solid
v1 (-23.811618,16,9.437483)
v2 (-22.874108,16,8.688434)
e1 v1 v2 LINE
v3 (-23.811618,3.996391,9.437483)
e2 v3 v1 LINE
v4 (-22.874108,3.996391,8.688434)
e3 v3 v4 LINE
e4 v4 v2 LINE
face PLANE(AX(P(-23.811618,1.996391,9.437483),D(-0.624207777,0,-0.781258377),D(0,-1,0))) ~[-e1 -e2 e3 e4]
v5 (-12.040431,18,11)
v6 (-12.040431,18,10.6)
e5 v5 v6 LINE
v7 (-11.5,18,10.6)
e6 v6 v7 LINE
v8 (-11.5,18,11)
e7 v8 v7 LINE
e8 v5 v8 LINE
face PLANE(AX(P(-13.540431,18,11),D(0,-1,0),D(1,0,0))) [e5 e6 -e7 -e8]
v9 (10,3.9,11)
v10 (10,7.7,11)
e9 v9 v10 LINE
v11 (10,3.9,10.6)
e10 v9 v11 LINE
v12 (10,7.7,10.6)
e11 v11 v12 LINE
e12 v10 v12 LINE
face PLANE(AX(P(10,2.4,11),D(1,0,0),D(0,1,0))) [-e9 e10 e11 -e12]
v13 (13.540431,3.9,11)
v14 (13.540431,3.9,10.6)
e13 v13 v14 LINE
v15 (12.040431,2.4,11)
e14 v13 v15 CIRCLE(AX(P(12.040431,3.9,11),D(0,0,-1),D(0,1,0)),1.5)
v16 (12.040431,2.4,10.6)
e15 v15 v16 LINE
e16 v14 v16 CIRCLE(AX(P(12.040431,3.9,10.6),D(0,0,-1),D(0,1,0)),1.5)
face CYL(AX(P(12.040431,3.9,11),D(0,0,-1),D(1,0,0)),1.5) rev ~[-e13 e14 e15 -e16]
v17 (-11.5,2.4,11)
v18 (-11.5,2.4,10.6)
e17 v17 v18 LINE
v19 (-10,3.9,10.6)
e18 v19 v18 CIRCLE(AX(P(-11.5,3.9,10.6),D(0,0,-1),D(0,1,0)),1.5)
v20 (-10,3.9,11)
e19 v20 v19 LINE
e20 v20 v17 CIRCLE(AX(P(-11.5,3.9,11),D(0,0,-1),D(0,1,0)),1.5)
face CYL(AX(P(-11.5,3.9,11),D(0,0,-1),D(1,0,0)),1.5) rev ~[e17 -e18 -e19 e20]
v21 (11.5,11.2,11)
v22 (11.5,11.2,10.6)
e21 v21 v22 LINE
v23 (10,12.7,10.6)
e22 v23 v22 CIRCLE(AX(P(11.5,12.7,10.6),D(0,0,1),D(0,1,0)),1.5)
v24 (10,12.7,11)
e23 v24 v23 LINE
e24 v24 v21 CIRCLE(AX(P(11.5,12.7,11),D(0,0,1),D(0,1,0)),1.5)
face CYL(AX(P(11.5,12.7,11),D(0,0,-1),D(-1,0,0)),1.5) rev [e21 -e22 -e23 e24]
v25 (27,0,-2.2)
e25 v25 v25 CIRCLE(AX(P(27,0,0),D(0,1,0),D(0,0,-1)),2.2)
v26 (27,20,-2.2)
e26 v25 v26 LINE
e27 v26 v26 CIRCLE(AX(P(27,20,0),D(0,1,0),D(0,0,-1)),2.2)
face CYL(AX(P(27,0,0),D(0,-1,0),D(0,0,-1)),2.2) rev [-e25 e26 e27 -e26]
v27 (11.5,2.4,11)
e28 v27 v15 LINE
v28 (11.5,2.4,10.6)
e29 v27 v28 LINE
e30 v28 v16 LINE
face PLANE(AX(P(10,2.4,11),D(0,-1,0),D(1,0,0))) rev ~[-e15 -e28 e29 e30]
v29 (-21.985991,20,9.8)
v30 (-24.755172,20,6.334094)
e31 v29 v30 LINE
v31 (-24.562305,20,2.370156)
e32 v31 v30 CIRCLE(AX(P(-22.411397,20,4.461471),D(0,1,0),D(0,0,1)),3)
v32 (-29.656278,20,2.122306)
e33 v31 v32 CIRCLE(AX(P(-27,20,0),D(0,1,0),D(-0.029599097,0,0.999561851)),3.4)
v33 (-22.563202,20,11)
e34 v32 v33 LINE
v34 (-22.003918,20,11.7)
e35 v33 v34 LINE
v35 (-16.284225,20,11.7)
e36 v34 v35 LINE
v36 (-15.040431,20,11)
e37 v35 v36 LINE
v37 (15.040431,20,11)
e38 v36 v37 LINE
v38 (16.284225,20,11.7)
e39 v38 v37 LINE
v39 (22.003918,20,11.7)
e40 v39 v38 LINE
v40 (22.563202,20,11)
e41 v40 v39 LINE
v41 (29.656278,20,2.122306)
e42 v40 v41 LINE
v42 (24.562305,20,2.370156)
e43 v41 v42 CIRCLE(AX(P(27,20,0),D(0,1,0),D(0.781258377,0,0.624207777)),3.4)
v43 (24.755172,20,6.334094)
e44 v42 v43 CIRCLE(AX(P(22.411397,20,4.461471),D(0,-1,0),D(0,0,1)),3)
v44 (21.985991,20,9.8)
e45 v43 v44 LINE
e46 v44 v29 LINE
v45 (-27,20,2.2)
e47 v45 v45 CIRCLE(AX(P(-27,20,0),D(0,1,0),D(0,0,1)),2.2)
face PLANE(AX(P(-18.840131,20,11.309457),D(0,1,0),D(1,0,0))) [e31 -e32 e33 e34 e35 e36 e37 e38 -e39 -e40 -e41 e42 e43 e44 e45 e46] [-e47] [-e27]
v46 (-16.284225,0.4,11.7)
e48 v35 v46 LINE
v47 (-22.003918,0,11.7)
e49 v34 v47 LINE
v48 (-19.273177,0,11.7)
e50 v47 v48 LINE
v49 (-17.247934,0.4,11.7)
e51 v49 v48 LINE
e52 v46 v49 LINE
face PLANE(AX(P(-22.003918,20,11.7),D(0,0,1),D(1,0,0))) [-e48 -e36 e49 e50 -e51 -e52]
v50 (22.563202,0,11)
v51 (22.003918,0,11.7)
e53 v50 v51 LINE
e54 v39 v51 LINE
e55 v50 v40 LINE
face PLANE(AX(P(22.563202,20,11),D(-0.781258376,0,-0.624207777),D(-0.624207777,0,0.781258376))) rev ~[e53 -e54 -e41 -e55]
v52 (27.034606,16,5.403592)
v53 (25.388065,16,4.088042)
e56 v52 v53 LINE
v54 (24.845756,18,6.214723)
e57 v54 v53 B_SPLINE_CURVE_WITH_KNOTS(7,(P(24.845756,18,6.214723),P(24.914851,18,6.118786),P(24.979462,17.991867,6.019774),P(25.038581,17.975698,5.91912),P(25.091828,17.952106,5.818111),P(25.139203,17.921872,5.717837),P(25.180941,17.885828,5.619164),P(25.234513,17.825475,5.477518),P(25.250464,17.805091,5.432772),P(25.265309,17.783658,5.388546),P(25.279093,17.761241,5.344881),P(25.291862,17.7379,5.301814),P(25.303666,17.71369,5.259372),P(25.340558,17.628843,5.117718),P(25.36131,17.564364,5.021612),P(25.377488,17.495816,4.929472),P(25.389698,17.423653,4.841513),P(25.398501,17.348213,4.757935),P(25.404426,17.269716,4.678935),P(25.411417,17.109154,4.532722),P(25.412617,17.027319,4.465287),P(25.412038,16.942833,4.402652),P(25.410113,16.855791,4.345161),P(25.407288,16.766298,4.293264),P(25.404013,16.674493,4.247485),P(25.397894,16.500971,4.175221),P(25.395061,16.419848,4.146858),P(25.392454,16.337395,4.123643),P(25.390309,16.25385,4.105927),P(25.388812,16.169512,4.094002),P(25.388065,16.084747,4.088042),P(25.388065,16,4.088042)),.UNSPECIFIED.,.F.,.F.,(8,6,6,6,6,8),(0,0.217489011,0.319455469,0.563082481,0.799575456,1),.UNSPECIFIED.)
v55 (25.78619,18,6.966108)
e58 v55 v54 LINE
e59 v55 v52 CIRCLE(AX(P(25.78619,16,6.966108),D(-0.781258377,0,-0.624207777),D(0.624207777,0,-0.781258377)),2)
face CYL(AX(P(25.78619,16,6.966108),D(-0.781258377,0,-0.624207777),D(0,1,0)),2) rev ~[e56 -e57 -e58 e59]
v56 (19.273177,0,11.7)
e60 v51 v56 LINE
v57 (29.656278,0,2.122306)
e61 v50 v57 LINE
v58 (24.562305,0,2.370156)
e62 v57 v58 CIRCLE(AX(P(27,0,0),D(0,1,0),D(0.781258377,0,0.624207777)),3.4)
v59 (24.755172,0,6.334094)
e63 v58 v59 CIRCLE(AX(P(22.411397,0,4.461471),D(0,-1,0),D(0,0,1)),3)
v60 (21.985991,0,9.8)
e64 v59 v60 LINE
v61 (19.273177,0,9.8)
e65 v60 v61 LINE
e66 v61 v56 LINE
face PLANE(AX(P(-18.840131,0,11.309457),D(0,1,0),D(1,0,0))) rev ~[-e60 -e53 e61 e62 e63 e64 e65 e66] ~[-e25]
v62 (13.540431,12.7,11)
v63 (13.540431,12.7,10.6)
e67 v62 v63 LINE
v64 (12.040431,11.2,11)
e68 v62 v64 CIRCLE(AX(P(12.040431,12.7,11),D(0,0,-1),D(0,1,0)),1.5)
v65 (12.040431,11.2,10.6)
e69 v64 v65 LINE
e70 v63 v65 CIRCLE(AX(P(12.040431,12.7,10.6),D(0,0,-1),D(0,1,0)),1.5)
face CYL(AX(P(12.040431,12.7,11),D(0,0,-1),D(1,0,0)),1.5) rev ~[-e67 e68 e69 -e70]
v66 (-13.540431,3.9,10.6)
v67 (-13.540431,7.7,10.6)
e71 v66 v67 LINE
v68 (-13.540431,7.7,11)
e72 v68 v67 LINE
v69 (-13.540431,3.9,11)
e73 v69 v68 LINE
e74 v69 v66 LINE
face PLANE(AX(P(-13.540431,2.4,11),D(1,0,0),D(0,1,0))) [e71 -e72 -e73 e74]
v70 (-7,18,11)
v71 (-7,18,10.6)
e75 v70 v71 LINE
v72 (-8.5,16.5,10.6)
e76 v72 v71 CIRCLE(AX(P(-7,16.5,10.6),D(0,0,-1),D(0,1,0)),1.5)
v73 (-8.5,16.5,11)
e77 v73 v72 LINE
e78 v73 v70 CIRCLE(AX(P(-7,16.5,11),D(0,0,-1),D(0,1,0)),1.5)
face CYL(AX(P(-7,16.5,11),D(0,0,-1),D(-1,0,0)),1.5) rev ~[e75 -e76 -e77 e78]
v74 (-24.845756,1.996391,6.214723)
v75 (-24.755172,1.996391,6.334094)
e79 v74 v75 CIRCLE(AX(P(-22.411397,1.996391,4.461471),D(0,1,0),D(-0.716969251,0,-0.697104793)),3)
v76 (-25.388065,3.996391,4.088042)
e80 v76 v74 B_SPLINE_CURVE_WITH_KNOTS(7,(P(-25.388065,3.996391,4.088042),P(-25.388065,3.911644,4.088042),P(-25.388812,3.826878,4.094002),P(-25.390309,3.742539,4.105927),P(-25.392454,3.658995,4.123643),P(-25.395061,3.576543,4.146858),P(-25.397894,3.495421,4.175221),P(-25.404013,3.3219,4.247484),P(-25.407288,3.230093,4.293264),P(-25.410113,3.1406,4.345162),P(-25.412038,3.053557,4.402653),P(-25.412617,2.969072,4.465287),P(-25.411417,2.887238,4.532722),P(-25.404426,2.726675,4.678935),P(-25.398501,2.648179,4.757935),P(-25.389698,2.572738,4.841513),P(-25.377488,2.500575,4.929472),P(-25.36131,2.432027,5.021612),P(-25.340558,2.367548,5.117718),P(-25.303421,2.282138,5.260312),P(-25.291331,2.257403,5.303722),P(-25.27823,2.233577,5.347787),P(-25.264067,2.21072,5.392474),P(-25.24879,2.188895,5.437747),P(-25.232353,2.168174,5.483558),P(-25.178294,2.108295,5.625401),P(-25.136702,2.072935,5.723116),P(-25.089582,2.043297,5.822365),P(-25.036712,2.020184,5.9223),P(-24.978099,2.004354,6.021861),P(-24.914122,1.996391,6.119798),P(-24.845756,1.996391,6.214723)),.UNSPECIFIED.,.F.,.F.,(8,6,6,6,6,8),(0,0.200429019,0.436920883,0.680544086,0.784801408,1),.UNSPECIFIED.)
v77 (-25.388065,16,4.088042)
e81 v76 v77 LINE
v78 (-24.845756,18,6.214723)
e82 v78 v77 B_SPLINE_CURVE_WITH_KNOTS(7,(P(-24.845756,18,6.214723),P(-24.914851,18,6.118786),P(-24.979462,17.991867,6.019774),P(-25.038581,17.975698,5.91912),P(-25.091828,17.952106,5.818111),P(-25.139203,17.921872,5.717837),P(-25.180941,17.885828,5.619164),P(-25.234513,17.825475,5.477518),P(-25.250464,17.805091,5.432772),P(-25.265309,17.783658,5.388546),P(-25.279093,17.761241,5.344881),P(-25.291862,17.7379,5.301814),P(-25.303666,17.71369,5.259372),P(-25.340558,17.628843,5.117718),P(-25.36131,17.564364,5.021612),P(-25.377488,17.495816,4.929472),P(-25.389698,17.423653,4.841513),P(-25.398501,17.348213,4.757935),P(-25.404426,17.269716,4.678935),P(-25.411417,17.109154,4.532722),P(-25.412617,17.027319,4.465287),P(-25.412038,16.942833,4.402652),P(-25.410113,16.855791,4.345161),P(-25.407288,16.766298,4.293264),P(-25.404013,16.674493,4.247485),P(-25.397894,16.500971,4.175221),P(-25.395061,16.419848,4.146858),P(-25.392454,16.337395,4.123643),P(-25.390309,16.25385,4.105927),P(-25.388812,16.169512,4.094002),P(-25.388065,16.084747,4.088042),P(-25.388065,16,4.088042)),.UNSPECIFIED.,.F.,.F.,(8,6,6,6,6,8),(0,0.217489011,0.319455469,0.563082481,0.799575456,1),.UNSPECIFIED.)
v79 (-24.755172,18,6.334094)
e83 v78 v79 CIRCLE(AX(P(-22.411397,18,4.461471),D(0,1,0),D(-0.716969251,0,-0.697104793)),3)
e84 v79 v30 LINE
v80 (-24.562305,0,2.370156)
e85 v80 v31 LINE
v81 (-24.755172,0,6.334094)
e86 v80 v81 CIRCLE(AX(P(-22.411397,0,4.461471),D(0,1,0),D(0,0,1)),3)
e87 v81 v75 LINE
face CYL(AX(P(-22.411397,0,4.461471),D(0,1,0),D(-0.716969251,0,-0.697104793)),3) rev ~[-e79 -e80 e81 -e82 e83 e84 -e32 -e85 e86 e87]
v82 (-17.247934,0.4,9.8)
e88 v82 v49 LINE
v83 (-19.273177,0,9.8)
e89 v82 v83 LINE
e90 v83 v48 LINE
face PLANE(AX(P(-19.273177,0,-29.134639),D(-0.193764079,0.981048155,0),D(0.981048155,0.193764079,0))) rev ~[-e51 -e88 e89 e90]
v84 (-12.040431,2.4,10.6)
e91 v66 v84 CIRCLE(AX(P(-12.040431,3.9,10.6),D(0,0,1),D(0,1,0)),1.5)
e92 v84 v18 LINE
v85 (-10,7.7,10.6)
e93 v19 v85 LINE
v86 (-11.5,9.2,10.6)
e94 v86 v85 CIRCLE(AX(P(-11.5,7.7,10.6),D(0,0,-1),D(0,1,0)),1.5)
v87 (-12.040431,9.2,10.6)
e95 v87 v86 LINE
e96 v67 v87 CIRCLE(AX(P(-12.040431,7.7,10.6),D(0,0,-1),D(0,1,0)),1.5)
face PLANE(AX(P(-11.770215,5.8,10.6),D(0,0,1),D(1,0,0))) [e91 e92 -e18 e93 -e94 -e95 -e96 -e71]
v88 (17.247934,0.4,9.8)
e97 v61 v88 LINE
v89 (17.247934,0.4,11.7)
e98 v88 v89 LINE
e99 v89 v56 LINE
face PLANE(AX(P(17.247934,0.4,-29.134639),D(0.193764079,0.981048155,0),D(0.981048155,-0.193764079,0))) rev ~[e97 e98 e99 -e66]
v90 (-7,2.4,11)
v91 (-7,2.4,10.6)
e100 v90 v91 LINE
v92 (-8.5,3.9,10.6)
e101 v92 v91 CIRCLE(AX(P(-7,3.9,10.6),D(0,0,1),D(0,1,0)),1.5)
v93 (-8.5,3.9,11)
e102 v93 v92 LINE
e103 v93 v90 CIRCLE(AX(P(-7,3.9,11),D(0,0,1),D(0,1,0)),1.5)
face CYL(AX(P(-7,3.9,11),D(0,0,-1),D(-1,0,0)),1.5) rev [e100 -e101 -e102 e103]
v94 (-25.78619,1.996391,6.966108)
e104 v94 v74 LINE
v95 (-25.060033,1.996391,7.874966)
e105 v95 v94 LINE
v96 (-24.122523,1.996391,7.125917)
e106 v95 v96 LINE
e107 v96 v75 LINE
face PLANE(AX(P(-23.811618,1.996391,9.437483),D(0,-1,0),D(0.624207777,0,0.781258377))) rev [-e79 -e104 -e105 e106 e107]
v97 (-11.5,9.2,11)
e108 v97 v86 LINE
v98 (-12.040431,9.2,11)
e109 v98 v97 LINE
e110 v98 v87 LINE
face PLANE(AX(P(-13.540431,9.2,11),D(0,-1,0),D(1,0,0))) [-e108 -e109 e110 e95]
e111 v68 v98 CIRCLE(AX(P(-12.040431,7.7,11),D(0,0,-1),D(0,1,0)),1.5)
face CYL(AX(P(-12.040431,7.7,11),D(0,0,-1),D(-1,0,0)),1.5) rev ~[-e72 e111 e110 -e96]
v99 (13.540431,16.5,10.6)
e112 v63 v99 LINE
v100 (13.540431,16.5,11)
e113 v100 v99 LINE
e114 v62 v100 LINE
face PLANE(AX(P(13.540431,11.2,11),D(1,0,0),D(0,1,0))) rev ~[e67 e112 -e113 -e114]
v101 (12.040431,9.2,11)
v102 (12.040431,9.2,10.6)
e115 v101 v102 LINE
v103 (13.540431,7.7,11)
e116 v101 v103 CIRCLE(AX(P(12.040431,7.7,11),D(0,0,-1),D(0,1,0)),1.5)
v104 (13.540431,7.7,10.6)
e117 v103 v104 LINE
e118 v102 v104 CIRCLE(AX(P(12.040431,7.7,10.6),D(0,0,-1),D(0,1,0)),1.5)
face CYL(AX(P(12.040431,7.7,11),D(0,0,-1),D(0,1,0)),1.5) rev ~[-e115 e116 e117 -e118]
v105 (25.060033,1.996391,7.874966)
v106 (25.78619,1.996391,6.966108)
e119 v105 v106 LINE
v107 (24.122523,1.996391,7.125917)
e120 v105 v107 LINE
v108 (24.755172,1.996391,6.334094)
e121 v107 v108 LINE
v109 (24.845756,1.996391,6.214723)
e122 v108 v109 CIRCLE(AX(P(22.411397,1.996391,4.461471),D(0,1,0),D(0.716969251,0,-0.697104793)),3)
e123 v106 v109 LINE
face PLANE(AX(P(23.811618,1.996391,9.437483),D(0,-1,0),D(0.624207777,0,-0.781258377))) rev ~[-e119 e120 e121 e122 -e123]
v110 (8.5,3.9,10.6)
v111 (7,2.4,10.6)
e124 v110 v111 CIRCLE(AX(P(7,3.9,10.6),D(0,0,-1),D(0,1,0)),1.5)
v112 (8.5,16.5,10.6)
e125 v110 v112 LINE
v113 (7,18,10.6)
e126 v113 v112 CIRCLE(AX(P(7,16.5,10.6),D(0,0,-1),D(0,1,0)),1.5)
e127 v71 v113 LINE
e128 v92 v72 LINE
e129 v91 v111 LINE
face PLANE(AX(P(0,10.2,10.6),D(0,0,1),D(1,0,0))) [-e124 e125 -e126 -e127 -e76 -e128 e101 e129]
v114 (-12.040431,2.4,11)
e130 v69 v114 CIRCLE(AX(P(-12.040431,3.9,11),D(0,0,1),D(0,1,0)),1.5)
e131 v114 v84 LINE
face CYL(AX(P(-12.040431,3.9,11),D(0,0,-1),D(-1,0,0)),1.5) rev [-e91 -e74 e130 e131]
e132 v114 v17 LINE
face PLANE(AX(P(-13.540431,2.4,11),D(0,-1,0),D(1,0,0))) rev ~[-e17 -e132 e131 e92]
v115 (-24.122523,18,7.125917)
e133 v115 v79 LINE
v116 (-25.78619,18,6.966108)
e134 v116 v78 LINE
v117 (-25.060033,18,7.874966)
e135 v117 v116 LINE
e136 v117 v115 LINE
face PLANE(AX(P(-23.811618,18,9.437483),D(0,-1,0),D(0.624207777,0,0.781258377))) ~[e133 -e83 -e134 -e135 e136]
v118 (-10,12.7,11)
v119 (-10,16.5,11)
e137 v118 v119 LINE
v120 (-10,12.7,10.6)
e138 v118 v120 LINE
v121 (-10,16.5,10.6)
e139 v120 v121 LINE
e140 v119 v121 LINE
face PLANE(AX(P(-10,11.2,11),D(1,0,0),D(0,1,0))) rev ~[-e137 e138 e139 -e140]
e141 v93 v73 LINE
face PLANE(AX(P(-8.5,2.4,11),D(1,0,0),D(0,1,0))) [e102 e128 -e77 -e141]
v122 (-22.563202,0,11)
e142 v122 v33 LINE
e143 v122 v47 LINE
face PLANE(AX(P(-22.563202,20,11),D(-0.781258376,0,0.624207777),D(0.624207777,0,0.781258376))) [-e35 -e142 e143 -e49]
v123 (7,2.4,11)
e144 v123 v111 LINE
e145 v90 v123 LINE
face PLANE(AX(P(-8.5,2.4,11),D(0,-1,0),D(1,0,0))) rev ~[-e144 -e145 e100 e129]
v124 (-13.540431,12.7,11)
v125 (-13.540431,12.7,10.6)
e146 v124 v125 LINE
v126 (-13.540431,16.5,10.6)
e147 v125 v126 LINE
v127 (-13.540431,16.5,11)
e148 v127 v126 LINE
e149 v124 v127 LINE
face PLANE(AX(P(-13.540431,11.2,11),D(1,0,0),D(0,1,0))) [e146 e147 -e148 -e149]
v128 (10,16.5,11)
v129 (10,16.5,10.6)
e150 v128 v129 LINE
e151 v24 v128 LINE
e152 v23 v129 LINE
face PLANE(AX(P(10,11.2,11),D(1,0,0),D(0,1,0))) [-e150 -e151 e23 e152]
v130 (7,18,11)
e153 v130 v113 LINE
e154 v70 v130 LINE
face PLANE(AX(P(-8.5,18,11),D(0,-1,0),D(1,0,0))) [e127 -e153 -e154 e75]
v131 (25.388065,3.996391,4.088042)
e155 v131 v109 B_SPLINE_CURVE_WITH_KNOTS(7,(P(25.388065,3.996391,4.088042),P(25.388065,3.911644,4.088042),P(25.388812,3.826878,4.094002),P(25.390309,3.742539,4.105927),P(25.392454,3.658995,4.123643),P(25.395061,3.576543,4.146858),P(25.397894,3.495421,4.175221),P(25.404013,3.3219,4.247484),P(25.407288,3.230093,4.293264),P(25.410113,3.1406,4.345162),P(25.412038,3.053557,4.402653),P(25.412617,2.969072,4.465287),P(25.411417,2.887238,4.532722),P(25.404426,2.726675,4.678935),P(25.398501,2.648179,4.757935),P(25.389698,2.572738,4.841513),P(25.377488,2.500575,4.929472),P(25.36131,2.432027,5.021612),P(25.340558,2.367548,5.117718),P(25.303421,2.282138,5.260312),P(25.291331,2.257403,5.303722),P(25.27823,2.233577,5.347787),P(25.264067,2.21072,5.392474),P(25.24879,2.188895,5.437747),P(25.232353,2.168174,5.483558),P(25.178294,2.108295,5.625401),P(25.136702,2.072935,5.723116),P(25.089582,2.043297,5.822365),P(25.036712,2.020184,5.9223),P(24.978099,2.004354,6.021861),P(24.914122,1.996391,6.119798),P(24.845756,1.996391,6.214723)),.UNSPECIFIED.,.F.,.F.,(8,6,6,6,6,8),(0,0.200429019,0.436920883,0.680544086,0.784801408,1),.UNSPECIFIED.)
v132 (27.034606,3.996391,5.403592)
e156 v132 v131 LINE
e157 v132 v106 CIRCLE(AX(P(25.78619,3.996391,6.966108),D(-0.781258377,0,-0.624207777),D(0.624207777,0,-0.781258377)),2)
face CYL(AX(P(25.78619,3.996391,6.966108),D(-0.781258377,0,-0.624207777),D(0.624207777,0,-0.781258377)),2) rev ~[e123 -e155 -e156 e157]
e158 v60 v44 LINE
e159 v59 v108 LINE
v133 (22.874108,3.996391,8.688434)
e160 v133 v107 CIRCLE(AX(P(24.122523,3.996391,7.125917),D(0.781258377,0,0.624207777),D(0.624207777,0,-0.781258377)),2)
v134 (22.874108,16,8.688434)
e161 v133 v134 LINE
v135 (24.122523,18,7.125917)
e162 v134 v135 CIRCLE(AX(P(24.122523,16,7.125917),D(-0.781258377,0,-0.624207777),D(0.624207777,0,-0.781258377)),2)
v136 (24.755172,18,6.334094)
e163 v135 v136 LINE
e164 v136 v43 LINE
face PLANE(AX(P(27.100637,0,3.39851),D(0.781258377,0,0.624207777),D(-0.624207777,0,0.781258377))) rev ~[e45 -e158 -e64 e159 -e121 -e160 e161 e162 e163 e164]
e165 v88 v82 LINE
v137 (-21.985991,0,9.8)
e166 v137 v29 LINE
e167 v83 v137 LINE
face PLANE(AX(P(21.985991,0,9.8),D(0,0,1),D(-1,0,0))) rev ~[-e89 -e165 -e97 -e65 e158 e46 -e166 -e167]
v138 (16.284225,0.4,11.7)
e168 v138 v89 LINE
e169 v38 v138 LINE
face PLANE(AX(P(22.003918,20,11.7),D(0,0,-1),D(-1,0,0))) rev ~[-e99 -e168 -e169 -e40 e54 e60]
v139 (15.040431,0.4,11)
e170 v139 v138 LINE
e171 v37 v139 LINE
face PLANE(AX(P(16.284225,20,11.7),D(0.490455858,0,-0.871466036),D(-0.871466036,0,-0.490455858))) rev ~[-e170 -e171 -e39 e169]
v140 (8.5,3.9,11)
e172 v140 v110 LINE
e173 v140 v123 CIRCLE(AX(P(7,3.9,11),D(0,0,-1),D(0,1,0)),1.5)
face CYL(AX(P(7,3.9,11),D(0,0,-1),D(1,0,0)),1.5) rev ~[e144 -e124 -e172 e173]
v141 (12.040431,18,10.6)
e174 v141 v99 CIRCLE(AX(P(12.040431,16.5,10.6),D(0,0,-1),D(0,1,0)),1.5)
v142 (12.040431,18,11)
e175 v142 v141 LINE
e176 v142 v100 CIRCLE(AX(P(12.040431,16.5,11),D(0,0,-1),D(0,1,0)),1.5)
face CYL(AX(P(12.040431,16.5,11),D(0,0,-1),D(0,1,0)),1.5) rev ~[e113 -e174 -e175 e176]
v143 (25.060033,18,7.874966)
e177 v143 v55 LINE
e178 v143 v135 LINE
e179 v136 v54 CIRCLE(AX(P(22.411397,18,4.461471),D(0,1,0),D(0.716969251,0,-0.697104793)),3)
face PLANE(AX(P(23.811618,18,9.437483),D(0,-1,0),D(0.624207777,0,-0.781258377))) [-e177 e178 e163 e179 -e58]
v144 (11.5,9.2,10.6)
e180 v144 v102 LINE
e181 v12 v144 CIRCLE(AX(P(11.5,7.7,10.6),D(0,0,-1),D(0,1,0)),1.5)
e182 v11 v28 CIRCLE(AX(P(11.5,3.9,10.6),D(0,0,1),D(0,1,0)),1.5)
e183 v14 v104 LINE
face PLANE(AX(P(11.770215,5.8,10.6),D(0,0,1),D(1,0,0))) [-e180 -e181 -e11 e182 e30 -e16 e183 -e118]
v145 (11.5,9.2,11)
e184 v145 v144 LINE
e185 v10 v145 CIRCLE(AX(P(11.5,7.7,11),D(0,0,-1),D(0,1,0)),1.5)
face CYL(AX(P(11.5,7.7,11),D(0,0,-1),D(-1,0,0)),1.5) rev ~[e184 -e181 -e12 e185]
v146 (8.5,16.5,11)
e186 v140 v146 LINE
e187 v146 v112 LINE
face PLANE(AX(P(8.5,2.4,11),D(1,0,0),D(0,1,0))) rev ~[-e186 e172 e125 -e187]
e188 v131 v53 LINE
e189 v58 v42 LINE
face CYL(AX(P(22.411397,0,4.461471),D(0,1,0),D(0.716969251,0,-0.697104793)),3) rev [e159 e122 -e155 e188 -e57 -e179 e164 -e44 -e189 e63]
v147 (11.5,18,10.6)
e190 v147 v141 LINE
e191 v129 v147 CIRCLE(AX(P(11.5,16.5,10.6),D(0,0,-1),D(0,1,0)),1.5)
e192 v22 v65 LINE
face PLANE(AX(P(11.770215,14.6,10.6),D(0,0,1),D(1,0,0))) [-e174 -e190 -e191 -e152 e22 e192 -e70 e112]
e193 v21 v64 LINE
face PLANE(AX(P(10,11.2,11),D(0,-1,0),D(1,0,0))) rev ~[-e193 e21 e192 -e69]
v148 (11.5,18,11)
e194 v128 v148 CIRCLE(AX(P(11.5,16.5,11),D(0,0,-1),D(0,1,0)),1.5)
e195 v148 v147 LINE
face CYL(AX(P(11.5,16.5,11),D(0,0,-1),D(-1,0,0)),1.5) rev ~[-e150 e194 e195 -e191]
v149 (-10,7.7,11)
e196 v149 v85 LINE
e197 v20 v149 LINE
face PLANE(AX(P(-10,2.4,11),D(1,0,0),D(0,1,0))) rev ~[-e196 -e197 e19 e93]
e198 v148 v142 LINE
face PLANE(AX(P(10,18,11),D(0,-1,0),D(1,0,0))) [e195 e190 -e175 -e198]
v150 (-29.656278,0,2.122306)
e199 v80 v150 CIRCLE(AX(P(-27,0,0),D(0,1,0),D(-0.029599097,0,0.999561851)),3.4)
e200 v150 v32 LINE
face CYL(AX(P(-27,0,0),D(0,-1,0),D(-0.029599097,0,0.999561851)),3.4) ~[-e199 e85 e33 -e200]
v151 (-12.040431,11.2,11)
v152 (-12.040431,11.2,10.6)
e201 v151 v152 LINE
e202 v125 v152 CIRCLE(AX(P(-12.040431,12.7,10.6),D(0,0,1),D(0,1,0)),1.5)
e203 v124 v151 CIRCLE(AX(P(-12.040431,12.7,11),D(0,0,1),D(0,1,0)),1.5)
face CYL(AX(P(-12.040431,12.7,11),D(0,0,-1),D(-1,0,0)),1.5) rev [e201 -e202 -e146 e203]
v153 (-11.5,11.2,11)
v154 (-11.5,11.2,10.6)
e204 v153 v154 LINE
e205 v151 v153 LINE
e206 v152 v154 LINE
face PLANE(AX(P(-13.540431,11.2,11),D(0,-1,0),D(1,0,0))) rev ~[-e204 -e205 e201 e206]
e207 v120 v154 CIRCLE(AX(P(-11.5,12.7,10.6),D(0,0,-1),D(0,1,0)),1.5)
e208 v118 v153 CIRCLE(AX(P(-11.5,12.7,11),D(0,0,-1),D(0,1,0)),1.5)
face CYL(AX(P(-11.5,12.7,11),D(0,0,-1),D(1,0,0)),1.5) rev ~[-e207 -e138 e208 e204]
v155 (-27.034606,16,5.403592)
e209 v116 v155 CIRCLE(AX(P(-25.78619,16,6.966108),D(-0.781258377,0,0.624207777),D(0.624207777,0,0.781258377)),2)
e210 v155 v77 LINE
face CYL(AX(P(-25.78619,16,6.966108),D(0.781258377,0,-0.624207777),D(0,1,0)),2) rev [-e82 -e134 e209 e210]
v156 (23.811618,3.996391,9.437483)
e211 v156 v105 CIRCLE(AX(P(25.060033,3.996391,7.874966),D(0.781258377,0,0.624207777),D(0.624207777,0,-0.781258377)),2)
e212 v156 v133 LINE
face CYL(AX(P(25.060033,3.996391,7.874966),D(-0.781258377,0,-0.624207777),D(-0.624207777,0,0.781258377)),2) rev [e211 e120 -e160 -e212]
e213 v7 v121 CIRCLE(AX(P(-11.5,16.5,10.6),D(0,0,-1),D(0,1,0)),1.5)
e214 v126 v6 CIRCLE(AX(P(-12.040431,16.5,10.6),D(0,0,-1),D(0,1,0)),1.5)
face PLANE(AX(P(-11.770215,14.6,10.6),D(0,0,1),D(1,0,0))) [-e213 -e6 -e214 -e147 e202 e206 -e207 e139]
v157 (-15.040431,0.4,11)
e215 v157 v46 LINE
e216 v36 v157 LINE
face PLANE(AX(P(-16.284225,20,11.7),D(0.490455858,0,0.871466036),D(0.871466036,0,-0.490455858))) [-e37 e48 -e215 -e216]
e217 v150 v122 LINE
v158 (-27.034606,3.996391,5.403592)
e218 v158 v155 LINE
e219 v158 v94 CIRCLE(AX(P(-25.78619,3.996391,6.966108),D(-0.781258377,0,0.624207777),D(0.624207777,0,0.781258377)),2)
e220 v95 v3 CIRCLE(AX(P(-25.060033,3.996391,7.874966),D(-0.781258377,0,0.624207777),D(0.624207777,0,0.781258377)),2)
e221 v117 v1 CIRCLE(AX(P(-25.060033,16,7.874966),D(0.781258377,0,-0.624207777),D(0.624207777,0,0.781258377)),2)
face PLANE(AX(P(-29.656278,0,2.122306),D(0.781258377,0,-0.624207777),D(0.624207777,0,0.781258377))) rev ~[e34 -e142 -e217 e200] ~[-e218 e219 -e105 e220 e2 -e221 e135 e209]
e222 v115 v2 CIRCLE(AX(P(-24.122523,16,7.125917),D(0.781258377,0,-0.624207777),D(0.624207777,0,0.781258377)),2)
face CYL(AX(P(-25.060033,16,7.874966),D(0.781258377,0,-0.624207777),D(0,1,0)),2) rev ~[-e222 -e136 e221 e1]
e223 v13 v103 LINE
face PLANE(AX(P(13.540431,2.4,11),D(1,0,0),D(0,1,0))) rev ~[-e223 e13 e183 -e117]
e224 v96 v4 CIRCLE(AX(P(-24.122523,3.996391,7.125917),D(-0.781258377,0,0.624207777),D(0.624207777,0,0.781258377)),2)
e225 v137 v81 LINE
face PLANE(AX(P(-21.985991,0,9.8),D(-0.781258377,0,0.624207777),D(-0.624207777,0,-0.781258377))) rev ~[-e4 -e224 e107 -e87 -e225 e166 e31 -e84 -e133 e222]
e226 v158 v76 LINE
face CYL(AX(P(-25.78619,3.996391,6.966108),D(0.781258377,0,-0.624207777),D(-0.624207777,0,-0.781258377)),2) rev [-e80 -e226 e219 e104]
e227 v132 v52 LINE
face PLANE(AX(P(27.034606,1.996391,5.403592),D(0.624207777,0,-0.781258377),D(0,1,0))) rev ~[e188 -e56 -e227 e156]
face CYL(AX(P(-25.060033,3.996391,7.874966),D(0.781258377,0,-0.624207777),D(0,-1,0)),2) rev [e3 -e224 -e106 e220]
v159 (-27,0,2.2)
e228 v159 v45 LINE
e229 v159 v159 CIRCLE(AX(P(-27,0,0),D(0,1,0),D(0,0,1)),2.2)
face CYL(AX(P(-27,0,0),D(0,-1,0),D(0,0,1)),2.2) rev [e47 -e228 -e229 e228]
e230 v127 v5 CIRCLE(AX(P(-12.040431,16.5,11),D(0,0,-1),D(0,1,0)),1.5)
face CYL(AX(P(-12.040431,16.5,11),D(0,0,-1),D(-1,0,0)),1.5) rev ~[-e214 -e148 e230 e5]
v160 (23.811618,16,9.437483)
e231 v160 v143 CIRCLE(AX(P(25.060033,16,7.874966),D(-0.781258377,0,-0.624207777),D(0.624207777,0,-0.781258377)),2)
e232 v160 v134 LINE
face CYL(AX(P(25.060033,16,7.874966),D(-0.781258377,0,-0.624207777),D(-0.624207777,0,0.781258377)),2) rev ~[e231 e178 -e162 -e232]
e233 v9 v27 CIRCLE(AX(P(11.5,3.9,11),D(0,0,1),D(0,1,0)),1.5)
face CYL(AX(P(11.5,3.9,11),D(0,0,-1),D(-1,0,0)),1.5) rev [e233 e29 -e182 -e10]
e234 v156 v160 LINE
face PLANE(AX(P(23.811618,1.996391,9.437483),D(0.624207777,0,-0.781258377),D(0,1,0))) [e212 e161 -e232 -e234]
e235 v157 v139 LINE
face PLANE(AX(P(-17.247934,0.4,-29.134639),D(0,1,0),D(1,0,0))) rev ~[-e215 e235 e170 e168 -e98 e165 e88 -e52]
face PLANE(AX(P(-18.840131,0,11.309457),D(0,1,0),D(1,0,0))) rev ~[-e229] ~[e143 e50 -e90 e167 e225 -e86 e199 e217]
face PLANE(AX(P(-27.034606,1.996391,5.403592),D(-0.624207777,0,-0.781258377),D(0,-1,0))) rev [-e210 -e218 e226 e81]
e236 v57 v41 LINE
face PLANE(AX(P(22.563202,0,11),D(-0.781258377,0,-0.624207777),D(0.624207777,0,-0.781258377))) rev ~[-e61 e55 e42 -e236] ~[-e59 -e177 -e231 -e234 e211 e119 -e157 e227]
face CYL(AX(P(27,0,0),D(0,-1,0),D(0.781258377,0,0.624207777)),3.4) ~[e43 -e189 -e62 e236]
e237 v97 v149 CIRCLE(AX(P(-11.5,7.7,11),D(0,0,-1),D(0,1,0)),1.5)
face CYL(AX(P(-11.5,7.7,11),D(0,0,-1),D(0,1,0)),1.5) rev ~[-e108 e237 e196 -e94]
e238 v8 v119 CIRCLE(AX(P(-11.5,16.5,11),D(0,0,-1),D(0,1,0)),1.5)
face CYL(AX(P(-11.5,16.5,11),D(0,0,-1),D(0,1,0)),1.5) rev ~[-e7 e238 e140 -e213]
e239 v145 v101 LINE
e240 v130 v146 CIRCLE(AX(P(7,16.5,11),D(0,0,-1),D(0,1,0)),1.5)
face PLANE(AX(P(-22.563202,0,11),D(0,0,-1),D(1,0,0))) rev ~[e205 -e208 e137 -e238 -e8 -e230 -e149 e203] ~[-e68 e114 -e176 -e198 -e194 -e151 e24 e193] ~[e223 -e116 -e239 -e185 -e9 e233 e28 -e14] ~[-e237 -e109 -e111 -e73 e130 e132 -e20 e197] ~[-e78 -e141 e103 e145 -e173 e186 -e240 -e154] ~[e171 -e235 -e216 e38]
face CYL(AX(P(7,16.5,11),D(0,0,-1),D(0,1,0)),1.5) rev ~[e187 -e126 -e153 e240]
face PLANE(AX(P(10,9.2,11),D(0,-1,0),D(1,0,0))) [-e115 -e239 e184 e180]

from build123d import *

# Parameters (mm, degrees)
SKETCH_1_R               = 2.2
EXTRUDE_1_DEPTH          = 20
FILLET_1_R               = 3
SKETCH_3_W               = 5.163325916
SKETCH_3_H               = 16.003609002
CUT_EXTRUDE_2_DEPTH      = 57.596101085
FILLET_2_R               = 2
EXTRUDE_2_DEPTH          = 20
CUT_EXTRUDE_1_DEPTH      = 40.134639439
CUT_EXTRUDE_1_DEPTH_BACK = 40.134639439
SKETCH_5_W               = 17
SKETCH_5_H               = 15.6
SKETCH_5_W_2             = 3.540430575
SKETCH_5_H_2             = 6.8
CUT_EXTRUDE_3_DEPTH      = 0.4
FILLET_3_R               = 1.5


with BuildPart() as part:
    # 草图1 → 凸台-拉伸1 (new body)
    with BuildSketch(Plane(origin=(0, 0, 0), x_dir=(1, 0, 0), z_dir=(0, 1, 0))):
        with BuildLine():
            Line((-29.65627848, -2.122306442), (-22.56320207, -11))
            Line((-22.56320207, -11), (22.56320207, -11))
            Line((22.56320207, -11), (29.65627848, -2.122306442))
            ThreePointArc((29.65627848, -2.122306442), (25.48101359, 3.04182187), (27.10063693, -3.398510293))
            Line((27.10063693, -3.398510293), (21.985991405, -9.8))
            Line((21.985991405, -9.8), (-21.985991405, -9.8))
            Line((-21.985991405, -9.8), (-27.10063693, -3.398510293))
            ThreePointArc((-27.10063693, -3.398510293), (-25.48101359, 3.04182187), (-29.65627848, -2.122306442))
        make_face()
        with Locations(Location((-27, 0, 0), (0, 0, 270))):
            Circle(SKETCH_1_R, mode=Mode.SUBTRACT)
        with Locations(Location((27, 0, 0), (0, 0, 90))):
            Circle(SKETCH_1_R, mode=Mode.SUBTRACT)
    extrude(amount=EXTRUDE_1_DEPTH)

    # 圆角1
    fillet_1_edges = [part.edges().sort_by_distance(p)[0] for p in [
        (-27.10063693, 10, 3.398510293),
        (27.10063693, 10, 3.398510293),
    ]]
    fillet(fillet_1_edges, radius=FILLET_1_R)

    # 草图3 → 切除-拉伸2 (cut, through all)
    with BuildSketch(Plane(origin=(19.136124058, 0, 15.289330416), x_dir=(0.6242077770989366, 0, -0.7812583766009837), z_dir=(0.7812583766009837, 0, 0.6242077770989366))):
        with Locations((10.071947024, 9.998195499)):
            Rectangle(SKETCH_3_W, SKETCH_3_H)
    cut_extrude_2 = extrude(amount=-CUT_EXTRUDE_2_DEPTH, mode=Mode.SUBTRACT)

    # 镜向1: 切除-拉伸2 across plane
    add(cut_extrude_2.mirror(Plane(origin=(0, 0, 0), x_dir=(0, 0, 1), z_dir=(1, 0, 0))), mode=Mode.SUBTRACT)

    # 圆角2
    fillet_2_edges = [part.edges().sort_by_distance(p)[0] for p in [
        (23.342862598, 1.996390998, 9.062958581),
        (26.211335217, 18, 4.745817031),
        (26.211335217, 1.996390998, 4.745817031),
        (23.342862598, 18, 9.062958581),
        (-23.342862598, 18, 9.062958581),
        (-26.211335217, 1.996390998, 4.745817031),
        (-26.211335217, 18, 4.745817031),
        (-23.342862598, 1.996390998, 9.062958581),
    ]]
    fillet(fillet_2_edges, radius=FILLET_2_R)

    # 草图4 → 凸台-拉伸2 (add)
    with BuildSketch(Plane(origin=(0, 20, 0), x_dir=(1, 0, 0), z_dir=(0, 1, 0))):
        Polygon((-22.56320207, -11), (-22.003917898, -11.7), (-16.284224925, -11.7), (-15.040430575, -11), align=None)
        Polygon((15.040430575, -11), (22.56320207, -11), (22.003917898, -11.7), (16.284224925, -11.7), align=None)
    extrude(amount=-EXTRUDE_2_DEPTH)

    # 草图2 → 切除-拉伸1 (cut, two sides: drawn at the far end of the back side and taken through both)
    with BuildSketch(Plane.XY.offset(11).offset(-CUT_EXTRUDE_1_DEPTH_BACK)):
        Polygon((-19.273176969, 0), (-17.2479344, 0.4), (17.2479344, 0.4), (19.273176969, 0), align=None)
    extrude(amount=CUT_EXTRUDE_1_DEPTH + CUT_EXTRUDE_1_DEPTH_BACK, mode=Mode.SUBTRACT)

    # 草图5 → 切除-拉伸3 (cut)
    with BuildSketch(Plane.XY.offset(11)):
        with Locations((0, 10.2)):
            Rectangle(SKETCH_5_W, SKETCH_5_H)
        with Locations((-11.770215288, 14.6)):
            Rectangle(SKETCH_5_W_2, SKETCH_5_H_2)
        with Locations((11.770215288, 14.6)):
            Rectangle(SKETCH_5_W_2, SKETCH_5_H_2)
        with Locations((-11.770215288, 5.8)):
            Rectangle(SKETCH_5_W_2, SKETCH_5_H_2)
        with Locations((11.770215288, 5.8)):
            Rectangle(SKETCH_5_W_2, SKETCH_5_H_2)
    extrude(amount=-CUT_EXTRUDE_3_DEPTH, mode=Mode.SUBTRACT)

    # 圆角3
    fillet_3_edges = [part.edges().sort_by_distance(p)[0] for p in [
        (13.540430575, 2.4, 10.8),
        (10, 2.4, 10.8),
        (10, 9.2, 10.8),
        (13.540430575, 9.2, 10.8),
        (-13.540430575, 2.4, 10.8),
        (-13.540430575, 9.2, 10.8),
        (-10, 9.2, 10.8),
        (-10, 2.4, 10.8),
        (13.540430575, 18, 10.8),
        (13.540430575, 11.2, 10.8),
        (10, 11.2, 10.8),
        (10, 18, 10.8),
        (-10, 18, 10.8),
        (-10, 11.2, 10.8),
        (-13.540430575, 11.2, 10.8),
        (-13.540430575, 18, 10.8),
        (8.5, 18, 10.8),
        (8.5, 2.4, 10.8),
        (-8.5, 2.4, 10.8),
        (-8.5, 18, 10.8),
    ]]
    fillet(fillet_3_edges, radius=FILLET_3_R)


solid = part.part
